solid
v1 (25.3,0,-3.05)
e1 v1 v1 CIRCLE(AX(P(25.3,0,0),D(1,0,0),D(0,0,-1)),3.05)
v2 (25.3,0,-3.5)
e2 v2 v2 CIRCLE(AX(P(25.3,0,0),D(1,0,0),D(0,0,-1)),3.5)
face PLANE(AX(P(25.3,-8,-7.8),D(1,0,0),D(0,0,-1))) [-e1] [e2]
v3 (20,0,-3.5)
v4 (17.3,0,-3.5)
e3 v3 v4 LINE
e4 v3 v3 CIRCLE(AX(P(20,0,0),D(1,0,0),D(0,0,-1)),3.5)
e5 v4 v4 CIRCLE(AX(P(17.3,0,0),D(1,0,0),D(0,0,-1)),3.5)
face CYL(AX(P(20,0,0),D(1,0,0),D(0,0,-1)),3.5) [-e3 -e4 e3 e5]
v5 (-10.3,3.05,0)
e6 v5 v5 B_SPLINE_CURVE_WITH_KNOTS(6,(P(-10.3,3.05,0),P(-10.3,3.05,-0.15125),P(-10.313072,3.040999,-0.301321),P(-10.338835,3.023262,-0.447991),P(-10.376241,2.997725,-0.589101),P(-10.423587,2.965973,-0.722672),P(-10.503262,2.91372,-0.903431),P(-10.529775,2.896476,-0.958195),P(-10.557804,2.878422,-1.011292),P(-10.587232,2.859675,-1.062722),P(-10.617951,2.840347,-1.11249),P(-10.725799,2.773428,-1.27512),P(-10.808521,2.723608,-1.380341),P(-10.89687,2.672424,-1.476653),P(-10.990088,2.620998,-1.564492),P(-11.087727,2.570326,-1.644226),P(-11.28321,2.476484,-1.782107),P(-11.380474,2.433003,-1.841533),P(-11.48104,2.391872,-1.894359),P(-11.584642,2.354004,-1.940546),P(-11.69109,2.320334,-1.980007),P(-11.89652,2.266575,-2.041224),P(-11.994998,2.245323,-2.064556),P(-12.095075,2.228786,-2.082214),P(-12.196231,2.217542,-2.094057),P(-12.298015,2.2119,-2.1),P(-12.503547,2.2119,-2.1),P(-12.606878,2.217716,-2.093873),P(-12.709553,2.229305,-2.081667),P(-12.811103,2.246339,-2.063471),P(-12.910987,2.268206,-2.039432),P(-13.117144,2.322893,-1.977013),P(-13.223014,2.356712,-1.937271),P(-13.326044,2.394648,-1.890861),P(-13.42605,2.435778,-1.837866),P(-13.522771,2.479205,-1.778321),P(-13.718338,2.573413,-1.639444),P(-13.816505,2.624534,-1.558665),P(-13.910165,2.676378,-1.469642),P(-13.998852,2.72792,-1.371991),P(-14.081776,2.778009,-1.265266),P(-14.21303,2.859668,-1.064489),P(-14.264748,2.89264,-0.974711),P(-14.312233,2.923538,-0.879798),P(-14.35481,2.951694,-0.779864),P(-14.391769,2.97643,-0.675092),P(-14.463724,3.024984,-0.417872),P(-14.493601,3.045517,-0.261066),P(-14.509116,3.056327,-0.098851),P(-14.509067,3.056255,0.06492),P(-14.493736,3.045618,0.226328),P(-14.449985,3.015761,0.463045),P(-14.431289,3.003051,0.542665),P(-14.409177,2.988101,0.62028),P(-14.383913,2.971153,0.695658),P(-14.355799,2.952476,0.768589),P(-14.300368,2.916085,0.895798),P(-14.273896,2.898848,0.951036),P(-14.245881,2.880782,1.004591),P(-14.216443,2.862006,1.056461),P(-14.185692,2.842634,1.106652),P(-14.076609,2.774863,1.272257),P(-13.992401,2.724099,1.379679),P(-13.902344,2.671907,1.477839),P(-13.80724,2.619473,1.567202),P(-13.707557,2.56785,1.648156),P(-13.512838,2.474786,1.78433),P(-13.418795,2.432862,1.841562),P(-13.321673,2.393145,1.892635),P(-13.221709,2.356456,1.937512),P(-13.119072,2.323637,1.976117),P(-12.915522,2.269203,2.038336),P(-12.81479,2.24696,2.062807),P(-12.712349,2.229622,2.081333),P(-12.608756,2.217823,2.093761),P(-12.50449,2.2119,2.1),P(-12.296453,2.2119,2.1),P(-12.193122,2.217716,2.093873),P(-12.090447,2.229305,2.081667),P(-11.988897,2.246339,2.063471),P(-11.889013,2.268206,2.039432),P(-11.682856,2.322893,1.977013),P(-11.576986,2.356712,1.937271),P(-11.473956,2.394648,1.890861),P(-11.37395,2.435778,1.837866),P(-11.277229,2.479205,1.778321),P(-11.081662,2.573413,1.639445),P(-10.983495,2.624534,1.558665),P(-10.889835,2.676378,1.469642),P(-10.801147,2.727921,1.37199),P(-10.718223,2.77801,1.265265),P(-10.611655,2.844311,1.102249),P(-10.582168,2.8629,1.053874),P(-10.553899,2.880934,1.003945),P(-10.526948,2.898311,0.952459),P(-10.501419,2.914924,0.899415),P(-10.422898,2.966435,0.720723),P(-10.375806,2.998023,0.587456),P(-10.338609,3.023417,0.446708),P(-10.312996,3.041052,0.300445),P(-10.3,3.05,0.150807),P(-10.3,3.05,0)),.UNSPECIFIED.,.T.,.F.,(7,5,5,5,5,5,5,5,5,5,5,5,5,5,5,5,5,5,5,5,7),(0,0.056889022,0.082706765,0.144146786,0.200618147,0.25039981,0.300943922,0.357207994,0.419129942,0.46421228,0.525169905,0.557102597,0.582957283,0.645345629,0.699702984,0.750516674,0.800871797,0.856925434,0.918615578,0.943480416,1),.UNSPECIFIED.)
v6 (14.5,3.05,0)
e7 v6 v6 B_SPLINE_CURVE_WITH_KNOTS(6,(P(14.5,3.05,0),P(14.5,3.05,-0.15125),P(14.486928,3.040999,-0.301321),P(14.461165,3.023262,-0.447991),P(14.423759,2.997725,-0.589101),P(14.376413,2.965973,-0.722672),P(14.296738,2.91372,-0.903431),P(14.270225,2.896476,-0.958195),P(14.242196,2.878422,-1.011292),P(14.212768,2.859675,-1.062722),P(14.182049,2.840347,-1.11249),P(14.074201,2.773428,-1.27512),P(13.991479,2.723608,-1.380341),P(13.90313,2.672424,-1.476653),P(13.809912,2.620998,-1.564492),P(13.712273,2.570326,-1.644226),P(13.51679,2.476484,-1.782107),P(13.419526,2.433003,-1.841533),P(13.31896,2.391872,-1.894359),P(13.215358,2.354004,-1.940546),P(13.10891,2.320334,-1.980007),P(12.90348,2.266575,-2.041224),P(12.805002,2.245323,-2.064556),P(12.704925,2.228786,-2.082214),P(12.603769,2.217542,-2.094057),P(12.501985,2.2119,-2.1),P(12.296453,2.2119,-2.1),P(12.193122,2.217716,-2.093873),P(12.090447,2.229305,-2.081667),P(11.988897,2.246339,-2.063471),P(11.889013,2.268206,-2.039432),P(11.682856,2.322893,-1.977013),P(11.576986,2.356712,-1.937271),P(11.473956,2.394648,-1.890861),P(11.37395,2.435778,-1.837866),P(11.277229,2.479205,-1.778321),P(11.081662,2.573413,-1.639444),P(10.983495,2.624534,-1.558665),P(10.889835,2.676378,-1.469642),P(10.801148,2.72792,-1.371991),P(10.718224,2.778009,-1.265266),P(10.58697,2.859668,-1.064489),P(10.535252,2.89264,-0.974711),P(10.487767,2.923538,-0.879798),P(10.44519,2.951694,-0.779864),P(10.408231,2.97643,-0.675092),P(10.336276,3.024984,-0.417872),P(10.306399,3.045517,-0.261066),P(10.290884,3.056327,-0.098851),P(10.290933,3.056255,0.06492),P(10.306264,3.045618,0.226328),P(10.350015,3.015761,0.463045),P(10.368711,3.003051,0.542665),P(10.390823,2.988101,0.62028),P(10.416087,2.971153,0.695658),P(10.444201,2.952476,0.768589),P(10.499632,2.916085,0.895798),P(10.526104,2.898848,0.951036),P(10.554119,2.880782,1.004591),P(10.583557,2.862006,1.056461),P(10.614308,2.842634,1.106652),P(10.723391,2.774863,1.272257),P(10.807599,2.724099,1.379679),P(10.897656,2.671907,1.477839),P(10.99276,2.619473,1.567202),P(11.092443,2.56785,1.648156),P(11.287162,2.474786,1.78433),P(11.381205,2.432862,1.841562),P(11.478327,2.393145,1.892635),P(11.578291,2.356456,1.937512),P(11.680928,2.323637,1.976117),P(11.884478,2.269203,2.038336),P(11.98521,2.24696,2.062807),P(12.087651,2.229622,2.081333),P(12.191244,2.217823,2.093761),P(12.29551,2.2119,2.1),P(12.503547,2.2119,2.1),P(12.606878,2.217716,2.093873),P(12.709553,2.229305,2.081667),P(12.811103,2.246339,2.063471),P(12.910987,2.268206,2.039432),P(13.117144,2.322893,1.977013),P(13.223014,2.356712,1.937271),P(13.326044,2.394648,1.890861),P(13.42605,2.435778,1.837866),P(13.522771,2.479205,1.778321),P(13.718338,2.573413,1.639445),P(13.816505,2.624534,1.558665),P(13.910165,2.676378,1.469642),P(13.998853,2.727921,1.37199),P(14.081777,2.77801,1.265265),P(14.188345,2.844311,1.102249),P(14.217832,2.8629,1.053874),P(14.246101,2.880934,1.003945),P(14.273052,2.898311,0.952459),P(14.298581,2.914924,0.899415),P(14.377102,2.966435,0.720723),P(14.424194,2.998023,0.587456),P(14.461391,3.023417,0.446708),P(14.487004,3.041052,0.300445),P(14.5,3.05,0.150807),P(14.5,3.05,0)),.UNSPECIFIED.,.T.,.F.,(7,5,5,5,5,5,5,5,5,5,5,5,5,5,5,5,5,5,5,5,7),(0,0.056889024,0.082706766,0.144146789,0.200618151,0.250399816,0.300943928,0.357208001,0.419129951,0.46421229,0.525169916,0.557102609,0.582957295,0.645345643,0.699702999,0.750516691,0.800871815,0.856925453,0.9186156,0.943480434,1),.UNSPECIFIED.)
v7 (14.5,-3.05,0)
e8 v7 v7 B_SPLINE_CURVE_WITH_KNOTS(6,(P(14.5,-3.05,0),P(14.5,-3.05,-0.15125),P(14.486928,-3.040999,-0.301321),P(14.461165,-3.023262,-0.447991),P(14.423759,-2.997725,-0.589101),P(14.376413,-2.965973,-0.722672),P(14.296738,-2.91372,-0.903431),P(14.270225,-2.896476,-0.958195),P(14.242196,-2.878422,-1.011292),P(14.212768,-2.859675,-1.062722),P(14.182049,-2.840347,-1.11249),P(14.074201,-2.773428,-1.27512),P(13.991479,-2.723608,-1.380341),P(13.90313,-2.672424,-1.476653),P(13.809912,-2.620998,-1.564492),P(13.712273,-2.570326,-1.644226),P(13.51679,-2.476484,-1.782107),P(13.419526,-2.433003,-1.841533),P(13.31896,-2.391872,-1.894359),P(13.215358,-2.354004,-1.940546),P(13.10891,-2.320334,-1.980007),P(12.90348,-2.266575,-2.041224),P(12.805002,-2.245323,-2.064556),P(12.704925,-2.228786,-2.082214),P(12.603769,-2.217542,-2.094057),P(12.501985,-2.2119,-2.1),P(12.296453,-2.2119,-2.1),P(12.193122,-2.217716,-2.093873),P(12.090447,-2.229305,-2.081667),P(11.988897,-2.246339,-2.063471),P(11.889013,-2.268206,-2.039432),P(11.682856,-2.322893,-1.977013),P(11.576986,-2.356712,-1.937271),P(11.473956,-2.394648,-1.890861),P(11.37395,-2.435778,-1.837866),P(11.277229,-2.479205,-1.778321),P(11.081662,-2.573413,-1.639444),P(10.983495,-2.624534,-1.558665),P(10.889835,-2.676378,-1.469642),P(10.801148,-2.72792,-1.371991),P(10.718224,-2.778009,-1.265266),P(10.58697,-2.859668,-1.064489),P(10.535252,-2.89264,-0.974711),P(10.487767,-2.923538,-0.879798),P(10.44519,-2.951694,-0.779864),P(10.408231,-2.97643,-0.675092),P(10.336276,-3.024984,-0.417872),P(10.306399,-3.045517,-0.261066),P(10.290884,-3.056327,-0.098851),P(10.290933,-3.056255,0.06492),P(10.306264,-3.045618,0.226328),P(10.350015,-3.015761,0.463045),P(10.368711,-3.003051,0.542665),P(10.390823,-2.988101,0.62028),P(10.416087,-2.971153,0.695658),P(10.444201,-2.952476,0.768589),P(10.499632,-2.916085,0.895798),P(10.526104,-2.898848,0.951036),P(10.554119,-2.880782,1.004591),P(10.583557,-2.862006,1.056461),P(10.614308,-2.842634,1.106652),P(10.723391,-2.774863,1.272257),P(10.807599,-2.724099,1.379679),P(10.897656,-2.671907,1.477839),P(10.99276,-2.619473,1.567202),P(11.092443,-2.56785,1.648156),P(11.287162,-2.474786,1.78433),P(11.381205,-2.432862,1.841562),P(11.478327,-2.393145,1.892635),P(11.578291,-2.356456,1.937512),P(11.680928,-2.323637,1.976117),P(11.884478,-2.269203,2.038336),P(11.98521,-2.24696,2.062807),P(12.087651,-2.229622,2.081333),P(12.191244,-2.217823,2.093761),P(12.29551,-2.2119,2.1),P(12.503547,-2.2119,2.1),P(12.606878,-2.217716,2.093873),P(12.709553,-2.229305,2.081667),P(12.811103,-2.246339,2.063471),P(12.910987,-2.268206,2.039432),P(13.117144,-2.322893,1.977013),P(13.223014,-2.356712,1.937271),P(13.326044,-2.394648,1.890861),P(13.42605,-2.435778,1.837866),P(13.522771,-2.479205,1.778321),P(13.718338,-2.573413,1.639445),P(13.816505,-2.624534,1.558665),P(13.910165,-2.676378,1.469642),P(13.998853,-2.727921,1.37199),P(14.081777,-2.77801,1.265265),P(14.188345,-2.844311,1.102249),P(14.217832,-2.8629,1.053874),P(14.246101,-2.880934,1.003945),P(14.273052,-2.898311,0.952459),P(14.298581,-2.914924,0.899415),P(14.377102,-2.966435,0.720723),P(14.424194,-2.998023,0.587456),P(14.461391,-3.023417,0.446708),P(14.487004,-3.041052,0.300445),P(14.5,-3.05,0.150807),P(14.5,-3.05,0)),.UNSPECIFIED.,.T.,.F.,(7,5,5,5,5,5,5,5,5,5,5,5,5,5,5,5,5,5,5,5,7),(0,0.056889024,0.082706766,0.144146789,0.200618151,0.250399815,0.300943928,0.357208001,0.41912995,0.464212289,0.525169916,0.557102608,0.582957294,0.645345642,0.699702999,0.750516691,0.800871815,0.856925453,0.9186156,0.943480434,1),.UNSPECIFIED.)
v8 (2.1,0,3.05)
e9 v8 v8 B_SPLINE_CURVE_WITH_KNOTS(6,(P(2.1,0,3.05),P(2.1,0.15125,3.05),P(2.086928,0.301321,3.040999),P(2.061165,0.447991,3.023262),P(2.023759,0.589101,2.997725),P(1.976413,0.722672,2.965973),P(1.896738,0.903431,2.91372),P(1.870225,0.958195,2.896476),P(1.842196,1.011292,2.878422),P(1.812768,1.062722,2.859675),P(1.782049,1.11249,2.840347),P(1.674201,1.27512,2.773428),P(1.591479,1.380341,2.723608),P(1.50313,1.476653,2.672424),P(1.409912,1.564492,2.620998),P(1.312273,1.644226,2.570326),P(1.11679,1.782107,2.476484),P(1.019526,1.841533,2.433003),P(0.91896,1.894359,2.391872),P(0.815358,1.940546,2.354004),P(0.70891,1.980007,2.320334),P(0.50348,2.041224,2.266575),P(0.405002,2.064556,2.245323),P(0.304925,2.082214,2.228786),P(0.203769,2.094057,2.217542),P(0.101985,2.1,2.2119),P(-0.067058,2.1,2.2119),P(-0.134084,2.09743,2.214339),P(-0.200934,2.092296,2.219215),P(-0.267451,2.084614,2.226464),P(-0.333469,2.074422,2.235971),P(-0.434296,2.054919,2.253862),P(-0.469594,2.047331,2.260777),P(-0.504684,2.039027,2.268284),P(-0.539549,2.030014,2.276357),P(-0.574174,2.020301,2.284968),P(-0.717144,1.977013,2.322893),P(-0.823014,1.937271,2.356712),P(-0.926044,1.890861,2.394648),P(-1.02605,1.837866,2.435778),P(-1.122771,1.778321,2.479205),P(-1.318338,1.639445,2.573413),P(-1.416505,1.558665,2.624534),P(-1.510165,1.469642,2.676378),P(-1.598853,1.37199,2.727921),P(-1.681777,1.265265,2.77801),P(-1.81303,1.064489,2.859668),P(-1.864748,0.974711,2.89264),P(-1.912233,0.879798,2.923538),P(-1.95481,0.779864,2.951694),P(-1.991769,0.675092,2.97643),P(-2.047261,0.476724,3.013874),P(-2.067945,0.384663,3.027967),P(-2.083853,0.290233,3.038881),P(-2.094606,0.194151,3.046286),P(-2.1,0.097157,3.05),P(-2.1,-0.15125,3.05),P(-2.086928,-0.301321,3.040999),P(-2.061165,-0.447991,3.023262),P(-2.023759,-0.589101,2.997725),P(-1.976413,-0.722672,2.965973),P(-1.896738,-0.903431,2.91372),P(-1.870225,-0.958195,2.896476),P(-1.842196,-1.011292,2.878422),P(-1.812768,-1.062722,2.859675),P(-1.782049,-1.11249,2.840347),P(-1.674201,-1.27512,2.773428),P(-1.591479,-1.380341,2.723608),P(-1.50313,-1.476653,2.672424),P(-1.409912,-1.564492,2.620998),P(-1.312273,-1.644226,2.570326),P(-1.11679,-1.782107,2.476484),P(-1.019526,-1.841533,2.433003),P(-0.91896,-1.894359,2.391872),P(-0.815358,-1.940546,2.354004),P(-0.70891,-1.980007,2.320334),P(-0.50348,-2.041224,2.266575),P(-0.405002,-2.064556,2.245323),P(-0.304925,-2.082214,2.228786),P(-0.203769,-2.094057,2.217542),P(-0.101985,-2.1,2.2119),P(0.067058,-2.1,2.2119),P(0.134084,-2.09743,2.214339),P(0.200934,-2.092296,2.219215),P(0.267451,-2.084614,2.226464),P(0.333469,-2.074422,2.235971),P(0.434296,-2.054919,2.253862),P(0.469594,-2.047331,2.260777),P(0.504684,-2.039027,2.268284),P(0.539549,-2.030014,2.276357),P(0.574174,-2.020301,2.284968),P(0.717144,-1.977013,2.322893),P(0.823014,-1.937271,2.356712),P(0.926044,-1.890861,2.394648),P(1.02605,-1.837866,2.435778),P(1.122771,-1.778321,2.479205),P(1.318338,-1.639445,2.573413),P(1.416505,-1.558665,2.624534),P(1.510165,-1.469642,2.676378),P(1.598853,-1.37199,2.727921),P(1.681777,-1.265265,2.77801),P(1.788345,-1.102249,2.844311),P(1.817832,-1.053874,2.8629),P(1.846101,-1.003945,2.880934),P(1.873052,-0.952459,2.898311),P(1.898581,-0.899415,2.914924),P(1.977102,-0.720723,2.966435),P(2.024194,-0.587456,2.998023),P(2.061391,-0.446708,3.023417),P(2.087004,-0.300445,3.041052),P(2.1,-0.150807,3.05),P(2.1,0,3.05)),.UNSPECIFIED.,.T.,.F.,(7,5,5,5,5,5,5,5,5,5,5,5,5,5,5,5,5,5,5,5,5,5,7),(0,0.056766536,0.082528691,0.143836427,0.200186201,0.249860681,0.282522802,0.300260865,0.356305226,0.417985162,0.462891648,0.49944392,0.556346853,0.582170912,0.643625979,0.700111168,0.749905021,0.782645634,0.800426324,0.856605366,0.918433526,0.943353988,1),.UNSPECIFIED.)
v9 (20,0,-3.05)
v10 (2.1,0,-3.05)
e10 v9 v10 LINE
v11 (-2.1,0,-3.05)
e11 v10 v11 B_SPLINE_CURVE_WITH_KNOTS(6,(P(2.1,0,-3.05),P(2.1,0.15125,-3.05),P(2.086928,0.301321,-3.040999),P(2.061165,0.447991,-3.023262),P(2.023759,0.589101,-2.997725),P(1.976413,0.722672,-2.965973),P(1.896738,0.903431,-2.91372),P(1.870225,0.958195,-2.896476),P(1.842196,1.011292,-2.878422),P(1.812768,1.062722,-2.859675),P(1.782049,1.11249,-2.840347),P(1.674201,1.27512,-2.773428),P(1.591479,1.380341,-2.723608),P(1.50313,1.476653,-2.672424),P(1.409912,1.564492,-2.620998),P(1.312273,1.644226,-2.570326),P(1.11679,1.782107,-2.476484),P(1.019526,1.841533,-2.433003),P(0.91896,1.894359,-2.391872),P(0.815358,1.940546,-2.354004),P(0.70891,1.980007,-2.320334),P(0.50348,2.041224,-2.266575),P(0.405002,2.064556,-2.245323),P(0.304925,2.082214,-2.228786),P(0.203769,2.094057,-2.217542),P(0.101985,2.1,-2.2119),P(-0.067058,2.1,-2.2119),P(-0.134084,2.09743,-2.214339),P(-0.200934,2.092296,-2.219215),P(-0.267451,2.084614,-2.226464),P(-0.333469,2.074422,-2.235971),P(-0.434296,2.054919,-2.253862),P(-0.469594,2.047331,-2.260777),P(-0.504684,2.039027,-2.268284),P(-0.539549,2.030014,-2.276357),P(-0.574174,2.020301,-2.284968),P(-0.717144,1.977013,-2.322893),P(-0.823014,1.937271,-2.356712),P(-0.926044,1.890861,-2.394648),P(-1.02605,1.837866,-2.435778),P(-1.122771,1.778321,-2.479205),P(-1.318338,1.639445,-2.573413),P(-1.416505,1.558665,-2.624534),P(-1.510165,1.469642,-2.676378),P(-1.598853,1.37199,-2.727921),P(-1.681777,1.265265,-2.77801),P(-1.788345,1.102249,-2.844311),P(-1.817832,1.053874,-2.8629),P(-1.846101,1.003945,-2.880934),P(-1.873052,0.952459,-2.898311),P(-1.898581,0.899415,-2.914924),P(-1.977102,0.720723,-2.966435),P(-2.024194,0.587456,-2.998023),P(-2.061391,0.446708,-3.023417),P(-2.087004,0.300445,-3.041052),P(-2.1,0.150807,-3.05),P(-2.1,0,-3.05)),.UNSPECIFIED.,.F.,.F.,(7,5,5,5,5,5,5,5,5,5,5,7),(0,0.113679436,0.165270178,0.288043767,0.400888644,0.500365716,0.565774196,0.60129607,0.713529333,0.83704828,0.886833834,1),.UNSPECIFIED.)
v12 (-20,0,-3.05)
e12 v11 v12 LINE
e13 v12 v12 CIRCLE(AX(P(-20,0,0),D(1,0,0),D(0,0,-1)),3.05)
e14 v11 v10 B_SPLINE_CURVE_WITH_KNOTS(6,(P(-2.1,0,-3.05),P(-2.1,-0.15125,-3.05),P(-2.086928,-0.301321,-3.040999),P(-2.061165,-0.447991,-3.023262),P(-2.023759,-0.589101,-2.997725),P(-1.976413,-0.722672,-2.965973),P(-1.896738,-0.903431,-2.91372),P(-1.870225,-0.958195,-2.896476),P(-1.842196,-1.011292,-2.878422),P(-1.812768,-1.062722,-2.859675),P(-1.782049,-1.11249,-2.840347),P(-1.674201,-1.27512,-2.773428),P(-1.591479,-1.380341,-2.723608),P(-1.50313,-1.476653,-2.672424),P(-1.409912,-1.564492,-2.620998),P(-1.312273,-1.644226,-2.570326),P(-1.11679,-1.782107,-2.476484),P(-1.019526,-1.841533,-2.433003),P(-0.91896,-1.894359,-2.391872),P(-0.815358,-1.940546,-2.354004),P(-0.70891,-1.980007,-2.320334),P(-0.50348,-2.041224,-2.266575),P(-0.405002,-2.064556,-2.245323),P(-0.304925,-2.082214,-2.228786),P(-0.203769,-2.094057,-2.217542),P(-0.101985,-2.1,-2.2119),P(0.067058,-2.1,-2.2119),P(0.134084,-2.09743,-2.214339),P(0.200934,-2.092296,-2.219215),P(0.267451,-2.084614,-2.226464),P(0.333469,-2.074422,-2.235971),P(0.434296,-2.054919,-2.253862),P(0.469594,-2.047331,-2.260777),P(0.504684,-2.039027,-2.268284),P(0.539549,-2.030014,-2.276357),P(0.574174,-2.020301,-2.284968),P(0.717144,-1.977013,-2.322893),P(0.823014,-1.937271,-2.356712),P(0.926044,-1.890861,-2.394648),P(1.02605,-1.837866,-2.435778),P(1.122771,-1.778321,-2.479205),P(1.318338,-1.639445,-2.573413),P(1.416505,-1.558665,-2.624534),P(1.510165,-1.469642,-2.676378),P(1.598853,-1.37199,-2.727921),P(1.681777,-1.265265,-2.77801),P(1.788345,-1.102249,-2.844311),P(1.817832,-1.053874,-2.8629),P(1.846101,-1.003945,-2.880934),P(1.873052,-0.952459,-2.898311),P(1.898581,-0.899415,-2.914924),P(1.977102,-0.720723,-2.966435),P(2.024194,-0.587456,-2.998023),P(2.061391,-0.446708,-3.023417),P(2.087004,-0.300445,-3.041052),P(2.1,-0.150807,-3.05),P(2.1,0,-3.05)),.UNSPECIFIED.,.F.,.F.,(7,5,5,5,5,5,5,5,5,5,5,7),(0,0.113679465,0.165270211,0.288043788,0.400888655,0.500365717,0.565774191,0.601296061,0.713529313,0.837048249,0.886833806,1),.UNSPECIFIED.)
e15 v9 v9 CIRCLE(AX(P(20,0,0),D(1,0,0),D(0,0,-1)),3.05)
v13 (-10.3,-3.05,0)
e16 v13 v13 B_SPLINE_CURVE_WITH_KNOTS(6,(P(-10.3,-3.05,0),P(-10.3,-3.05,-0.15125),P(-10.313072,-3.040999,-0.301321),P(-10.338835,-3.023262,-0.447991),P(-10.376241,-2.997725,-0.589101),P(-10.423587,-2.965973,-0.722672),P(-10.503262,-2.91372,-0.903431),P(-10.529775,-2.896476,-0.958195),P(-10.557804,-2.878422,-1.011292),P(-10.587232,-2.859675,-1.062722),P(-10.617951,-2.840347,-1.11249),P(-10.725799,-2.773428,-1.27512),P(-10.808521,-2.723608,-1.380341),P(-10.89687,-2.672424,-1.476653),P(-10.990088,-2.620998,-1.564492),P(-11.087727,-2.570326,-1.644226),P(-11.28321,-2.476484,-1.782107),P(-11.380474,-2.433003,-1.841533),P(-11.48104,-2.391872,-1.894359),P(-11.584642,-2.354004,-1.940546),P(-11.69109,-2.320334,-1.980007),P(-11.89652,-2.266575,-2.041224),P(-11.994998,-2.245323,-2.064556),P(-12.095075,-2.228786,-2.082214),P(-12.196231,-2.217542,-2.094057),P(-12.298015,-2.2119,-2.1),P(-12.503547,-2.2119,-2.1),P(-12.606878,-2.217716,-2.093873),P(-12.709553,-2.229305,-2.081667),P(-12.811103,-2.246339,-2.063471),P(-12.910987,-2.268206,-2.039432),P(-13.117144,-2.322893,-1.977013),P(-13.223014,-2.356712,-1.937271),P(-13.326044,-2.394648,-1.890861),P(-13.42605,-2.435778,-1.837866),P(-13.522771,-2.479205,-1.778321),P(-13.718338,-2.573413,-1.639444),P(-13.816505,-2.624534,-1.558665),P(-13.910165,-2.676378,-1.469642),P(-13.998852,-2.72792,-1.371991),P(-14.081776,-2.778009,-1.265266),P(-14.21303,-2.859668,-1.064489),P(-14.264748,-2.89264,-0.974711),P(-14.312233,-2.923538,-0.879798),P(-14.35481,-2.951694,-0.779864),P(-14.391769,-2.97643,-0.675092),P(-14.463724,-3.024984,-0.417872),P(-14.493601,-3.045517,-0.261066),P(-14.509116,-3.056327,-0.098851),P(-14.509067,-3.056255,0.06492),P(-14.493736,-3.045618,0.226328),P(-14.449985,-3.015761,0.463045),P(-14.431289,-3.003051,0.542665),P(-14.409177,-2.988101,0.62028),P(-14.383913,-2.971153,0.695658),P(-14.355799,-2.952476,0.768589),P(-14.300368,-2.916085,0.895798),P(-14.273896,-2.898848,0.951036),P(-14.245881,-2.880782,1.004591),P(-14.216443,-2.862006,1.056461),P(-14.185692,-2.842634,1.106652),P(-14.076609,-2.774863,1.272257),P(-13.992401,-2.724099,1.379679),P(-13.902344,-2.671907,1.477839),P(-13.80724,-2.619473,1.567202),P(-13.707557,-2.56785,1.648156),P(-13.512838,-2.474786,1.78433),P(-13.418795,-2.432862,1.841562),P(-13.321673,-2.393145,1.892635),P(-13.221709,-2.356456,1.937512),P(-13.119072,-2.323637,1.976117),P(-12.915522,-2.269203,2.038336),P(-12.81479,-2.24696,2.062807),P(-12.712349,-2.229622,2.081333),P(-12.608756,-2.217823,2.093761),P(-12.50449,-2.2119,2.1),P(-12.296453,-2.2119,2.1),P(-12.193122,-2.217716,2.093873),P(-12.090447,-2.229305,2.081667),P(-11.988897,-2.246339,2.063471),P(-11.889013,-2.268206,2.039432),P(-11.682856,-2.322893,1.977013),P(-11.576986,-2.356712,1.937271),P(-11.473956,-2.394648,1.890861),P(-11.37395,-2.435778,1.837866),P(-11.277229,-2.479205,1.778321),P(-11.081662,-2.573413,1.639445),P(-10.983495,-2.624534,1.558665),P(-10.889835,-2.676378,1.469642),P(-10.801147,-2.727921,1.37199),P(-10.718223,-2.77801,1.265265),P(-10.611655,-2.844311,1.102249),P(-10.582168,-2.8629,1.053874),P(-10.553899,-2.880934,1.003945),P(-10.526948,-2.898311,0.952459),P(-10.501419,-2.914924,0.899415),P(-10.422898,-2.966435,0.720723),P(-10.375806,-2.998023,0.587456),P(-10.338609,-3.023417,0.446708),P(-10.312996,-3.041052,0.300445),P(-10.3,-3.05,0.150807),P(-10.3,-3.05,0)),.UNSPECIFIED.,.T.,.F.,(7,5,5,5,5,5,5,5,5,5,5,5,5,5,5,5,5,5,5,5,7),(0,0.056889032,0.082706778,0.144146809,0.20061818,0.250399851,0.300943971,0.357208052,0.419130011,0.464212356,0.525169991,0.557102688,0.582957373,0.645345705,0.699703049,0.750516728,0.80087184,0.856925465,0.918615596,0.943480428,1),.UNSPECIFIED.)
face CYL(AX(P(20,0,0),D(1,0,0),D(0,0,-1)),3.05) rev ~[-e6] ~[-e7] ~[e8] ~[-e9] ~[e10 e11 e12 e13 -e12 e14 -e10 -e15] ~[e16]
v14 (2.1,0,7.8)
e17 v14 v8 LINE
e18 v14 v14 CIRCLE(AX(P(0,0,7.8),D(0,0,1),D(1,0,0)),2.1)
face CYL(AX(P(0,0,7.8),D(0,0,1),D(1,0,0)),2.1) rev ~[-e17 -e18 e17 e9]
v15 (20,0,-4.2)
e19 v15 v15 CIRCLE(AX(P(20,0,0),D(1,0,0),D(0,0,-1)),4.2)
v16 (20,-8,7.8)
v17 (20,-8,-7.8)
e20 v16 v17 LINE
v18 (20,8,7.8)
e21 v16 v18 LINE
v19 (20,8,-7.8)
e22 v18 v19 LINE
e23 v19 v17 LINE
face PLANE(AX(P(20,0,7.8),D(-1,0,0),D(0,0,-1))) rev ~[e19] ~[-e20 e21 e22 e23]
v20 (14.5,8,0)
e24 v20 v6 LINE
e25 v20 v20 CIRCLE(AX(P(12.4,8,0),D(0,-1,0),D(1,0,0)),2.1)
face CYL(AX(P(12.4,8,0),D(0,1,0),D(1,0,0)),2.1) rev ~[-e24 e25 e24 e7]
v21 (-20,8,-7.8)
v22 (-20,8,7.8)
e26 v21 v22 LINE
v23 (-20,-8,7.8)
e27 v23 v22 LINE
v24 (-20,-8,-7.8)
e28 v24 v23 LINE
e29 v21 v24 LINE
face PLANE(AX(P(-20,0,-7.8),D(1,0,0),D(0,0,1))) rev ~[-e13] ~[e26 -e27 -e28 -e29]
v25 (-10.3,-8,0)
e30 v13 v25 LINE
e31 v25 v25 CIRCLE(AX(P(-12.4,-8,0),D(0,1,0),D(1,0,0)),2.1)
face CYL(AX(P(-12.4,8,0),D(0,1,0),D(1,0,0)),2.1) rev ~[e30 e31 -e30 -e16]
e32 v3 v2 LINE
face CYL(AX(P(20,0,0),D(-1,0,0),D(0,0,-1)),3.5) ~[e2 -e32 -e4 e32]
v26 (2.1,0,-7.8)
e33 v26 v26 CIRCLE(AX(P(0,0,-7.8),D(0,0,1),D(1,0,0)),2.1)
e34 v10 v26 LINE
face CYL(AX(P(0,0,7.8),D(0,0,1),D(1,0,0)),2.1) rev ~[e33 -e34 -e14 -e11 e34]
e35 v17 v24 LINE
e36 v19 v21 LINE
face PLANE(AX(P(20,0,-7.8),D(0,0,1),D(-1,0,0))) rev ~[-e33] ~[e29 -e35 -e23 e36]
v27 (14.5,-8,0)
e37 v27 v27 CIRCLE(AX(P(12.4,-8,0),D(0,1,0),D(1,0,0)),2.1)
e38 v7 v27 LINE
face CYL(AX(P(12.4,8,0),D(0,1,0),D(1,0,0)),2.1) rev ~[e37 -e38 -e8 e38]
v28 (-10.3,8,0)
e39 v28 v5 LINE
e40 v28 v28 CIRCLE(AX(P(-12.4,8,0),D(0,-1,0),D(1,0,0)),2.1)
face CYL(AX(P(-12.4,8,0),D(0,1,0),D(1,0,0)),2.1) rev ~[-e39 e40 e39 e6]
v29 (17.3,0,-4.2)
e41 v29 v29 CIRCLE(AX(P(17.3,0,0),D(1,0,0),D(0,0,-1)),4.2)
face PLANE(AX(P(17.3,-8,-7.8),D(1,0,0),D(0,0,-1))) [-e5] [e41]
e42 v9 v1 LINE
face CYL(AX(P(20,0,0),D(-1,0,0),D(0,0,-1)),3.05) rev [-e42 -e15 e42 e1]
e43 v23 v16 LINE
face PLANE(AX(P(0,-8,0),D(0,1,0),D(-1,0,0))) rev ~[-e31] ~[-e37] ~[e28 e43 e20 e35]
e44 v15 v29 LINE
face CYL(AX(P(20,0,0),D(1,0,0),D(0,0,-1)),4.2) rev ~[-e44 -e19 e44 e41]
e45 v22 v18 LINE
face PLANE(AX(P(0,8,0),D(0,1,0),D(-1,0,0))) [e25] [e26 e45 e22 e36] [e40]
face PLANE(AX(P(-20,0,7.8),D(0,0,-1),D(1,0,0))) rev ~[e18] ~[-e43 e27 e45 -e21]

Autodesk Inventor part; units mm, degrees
sketch "Эскиз1" plane through (0, 0, 0) normal (0, 1, 0) x (-1, 0, 0)
  line L0 (20, 7.8) -> (-20, 7.8)
  line L1 (-20, 7.8) -> (-20, -7.8)
  line L2 (-20, -7.8) -> (20, -7.8)
  line L3 (20, -7.8) -> (20, 7.8)
  line L4 (20, 7.8) -> (-20, -7.8) construction
  line L5 (-20, 7.8) -> (20, -7.8) construction
  point P0 (0, 0)
  dimension "d0" = 40
  dimension "d1" = 15.6
extrude "Выдавливание1" add sketch "Эскиз1" along normal mid plane 16
sketch "Эскиз2" plane through (20, -8, -7.8) normal (1, 0, 0) x (0, 0, -1)
  circle A0 centre (-7.8, 8) radius 3.05
  dimension "d4" = 6.1
extrude "Выдавливание2" cut sketch "Эскиз2" against normal up to next
sketch "Эскиз3" plane through (0, 8, 0) normal (0, 1, 0) x (1, 0, 0)
  circle A0 centre (-12.4, 0) radius 2.1
  circle A1 centre (12.4, 0) radius 2.1
  line L0 (28, 0) -> (-28, 0) projected
  line L1 (0, 10.92) -> (0, -10.92) projected
  line L2 (-20, 7.8) -> (-20, -7.8) projected
  line L3 (20, -7.8) -> (20, 7.8) projected
  point P0 (0, 0)
  dimension "d7" = 4.2
  dimension "d9" = 7.6
  dimension "d10" = 7.6
extrude "Выдавливание3" cut sketch "Эскиз3" against normal blind 21.75
sketch "Эскиз4" plane through (-20, 8, 7.8) normal (0, 0, 1) x (1, 0, 0)
  circle A0 centre (20, -8) radius 2.1
  dimension "d13" = 4.2
extrude "Выдавливание4" cut sketch "Эскиз4" against normal blind 19.55
sketch "Эскиз5" plane through (20, -8, -7.8) normal (1, 0, 0) x (0, 0, -1)
  circle A0 centre (-7.8, 8) radius 3.5
  circle A1 centre (-7.8, 8) radius 3.05 projected
  dimension "d17" = 7
extrude "Выдавливание5" add sketch "Эскиз5" along normal blind 5.3
sketch "Эскиз6" plane through (20, -8, -7.8) normal (1, 0, 0) x (0, 0, -1)
  circle A0 centre (-7.8, 8) radius 3.5 projected
  circle A1 centre (-7.8, 8) radius 4.2
  dimension "d20" = 8.4
extrude "Выдавливание6" cut sketch "Эскиз6" against normal blind 2.7
properties part number "новое крепление штыря стрелялки"
